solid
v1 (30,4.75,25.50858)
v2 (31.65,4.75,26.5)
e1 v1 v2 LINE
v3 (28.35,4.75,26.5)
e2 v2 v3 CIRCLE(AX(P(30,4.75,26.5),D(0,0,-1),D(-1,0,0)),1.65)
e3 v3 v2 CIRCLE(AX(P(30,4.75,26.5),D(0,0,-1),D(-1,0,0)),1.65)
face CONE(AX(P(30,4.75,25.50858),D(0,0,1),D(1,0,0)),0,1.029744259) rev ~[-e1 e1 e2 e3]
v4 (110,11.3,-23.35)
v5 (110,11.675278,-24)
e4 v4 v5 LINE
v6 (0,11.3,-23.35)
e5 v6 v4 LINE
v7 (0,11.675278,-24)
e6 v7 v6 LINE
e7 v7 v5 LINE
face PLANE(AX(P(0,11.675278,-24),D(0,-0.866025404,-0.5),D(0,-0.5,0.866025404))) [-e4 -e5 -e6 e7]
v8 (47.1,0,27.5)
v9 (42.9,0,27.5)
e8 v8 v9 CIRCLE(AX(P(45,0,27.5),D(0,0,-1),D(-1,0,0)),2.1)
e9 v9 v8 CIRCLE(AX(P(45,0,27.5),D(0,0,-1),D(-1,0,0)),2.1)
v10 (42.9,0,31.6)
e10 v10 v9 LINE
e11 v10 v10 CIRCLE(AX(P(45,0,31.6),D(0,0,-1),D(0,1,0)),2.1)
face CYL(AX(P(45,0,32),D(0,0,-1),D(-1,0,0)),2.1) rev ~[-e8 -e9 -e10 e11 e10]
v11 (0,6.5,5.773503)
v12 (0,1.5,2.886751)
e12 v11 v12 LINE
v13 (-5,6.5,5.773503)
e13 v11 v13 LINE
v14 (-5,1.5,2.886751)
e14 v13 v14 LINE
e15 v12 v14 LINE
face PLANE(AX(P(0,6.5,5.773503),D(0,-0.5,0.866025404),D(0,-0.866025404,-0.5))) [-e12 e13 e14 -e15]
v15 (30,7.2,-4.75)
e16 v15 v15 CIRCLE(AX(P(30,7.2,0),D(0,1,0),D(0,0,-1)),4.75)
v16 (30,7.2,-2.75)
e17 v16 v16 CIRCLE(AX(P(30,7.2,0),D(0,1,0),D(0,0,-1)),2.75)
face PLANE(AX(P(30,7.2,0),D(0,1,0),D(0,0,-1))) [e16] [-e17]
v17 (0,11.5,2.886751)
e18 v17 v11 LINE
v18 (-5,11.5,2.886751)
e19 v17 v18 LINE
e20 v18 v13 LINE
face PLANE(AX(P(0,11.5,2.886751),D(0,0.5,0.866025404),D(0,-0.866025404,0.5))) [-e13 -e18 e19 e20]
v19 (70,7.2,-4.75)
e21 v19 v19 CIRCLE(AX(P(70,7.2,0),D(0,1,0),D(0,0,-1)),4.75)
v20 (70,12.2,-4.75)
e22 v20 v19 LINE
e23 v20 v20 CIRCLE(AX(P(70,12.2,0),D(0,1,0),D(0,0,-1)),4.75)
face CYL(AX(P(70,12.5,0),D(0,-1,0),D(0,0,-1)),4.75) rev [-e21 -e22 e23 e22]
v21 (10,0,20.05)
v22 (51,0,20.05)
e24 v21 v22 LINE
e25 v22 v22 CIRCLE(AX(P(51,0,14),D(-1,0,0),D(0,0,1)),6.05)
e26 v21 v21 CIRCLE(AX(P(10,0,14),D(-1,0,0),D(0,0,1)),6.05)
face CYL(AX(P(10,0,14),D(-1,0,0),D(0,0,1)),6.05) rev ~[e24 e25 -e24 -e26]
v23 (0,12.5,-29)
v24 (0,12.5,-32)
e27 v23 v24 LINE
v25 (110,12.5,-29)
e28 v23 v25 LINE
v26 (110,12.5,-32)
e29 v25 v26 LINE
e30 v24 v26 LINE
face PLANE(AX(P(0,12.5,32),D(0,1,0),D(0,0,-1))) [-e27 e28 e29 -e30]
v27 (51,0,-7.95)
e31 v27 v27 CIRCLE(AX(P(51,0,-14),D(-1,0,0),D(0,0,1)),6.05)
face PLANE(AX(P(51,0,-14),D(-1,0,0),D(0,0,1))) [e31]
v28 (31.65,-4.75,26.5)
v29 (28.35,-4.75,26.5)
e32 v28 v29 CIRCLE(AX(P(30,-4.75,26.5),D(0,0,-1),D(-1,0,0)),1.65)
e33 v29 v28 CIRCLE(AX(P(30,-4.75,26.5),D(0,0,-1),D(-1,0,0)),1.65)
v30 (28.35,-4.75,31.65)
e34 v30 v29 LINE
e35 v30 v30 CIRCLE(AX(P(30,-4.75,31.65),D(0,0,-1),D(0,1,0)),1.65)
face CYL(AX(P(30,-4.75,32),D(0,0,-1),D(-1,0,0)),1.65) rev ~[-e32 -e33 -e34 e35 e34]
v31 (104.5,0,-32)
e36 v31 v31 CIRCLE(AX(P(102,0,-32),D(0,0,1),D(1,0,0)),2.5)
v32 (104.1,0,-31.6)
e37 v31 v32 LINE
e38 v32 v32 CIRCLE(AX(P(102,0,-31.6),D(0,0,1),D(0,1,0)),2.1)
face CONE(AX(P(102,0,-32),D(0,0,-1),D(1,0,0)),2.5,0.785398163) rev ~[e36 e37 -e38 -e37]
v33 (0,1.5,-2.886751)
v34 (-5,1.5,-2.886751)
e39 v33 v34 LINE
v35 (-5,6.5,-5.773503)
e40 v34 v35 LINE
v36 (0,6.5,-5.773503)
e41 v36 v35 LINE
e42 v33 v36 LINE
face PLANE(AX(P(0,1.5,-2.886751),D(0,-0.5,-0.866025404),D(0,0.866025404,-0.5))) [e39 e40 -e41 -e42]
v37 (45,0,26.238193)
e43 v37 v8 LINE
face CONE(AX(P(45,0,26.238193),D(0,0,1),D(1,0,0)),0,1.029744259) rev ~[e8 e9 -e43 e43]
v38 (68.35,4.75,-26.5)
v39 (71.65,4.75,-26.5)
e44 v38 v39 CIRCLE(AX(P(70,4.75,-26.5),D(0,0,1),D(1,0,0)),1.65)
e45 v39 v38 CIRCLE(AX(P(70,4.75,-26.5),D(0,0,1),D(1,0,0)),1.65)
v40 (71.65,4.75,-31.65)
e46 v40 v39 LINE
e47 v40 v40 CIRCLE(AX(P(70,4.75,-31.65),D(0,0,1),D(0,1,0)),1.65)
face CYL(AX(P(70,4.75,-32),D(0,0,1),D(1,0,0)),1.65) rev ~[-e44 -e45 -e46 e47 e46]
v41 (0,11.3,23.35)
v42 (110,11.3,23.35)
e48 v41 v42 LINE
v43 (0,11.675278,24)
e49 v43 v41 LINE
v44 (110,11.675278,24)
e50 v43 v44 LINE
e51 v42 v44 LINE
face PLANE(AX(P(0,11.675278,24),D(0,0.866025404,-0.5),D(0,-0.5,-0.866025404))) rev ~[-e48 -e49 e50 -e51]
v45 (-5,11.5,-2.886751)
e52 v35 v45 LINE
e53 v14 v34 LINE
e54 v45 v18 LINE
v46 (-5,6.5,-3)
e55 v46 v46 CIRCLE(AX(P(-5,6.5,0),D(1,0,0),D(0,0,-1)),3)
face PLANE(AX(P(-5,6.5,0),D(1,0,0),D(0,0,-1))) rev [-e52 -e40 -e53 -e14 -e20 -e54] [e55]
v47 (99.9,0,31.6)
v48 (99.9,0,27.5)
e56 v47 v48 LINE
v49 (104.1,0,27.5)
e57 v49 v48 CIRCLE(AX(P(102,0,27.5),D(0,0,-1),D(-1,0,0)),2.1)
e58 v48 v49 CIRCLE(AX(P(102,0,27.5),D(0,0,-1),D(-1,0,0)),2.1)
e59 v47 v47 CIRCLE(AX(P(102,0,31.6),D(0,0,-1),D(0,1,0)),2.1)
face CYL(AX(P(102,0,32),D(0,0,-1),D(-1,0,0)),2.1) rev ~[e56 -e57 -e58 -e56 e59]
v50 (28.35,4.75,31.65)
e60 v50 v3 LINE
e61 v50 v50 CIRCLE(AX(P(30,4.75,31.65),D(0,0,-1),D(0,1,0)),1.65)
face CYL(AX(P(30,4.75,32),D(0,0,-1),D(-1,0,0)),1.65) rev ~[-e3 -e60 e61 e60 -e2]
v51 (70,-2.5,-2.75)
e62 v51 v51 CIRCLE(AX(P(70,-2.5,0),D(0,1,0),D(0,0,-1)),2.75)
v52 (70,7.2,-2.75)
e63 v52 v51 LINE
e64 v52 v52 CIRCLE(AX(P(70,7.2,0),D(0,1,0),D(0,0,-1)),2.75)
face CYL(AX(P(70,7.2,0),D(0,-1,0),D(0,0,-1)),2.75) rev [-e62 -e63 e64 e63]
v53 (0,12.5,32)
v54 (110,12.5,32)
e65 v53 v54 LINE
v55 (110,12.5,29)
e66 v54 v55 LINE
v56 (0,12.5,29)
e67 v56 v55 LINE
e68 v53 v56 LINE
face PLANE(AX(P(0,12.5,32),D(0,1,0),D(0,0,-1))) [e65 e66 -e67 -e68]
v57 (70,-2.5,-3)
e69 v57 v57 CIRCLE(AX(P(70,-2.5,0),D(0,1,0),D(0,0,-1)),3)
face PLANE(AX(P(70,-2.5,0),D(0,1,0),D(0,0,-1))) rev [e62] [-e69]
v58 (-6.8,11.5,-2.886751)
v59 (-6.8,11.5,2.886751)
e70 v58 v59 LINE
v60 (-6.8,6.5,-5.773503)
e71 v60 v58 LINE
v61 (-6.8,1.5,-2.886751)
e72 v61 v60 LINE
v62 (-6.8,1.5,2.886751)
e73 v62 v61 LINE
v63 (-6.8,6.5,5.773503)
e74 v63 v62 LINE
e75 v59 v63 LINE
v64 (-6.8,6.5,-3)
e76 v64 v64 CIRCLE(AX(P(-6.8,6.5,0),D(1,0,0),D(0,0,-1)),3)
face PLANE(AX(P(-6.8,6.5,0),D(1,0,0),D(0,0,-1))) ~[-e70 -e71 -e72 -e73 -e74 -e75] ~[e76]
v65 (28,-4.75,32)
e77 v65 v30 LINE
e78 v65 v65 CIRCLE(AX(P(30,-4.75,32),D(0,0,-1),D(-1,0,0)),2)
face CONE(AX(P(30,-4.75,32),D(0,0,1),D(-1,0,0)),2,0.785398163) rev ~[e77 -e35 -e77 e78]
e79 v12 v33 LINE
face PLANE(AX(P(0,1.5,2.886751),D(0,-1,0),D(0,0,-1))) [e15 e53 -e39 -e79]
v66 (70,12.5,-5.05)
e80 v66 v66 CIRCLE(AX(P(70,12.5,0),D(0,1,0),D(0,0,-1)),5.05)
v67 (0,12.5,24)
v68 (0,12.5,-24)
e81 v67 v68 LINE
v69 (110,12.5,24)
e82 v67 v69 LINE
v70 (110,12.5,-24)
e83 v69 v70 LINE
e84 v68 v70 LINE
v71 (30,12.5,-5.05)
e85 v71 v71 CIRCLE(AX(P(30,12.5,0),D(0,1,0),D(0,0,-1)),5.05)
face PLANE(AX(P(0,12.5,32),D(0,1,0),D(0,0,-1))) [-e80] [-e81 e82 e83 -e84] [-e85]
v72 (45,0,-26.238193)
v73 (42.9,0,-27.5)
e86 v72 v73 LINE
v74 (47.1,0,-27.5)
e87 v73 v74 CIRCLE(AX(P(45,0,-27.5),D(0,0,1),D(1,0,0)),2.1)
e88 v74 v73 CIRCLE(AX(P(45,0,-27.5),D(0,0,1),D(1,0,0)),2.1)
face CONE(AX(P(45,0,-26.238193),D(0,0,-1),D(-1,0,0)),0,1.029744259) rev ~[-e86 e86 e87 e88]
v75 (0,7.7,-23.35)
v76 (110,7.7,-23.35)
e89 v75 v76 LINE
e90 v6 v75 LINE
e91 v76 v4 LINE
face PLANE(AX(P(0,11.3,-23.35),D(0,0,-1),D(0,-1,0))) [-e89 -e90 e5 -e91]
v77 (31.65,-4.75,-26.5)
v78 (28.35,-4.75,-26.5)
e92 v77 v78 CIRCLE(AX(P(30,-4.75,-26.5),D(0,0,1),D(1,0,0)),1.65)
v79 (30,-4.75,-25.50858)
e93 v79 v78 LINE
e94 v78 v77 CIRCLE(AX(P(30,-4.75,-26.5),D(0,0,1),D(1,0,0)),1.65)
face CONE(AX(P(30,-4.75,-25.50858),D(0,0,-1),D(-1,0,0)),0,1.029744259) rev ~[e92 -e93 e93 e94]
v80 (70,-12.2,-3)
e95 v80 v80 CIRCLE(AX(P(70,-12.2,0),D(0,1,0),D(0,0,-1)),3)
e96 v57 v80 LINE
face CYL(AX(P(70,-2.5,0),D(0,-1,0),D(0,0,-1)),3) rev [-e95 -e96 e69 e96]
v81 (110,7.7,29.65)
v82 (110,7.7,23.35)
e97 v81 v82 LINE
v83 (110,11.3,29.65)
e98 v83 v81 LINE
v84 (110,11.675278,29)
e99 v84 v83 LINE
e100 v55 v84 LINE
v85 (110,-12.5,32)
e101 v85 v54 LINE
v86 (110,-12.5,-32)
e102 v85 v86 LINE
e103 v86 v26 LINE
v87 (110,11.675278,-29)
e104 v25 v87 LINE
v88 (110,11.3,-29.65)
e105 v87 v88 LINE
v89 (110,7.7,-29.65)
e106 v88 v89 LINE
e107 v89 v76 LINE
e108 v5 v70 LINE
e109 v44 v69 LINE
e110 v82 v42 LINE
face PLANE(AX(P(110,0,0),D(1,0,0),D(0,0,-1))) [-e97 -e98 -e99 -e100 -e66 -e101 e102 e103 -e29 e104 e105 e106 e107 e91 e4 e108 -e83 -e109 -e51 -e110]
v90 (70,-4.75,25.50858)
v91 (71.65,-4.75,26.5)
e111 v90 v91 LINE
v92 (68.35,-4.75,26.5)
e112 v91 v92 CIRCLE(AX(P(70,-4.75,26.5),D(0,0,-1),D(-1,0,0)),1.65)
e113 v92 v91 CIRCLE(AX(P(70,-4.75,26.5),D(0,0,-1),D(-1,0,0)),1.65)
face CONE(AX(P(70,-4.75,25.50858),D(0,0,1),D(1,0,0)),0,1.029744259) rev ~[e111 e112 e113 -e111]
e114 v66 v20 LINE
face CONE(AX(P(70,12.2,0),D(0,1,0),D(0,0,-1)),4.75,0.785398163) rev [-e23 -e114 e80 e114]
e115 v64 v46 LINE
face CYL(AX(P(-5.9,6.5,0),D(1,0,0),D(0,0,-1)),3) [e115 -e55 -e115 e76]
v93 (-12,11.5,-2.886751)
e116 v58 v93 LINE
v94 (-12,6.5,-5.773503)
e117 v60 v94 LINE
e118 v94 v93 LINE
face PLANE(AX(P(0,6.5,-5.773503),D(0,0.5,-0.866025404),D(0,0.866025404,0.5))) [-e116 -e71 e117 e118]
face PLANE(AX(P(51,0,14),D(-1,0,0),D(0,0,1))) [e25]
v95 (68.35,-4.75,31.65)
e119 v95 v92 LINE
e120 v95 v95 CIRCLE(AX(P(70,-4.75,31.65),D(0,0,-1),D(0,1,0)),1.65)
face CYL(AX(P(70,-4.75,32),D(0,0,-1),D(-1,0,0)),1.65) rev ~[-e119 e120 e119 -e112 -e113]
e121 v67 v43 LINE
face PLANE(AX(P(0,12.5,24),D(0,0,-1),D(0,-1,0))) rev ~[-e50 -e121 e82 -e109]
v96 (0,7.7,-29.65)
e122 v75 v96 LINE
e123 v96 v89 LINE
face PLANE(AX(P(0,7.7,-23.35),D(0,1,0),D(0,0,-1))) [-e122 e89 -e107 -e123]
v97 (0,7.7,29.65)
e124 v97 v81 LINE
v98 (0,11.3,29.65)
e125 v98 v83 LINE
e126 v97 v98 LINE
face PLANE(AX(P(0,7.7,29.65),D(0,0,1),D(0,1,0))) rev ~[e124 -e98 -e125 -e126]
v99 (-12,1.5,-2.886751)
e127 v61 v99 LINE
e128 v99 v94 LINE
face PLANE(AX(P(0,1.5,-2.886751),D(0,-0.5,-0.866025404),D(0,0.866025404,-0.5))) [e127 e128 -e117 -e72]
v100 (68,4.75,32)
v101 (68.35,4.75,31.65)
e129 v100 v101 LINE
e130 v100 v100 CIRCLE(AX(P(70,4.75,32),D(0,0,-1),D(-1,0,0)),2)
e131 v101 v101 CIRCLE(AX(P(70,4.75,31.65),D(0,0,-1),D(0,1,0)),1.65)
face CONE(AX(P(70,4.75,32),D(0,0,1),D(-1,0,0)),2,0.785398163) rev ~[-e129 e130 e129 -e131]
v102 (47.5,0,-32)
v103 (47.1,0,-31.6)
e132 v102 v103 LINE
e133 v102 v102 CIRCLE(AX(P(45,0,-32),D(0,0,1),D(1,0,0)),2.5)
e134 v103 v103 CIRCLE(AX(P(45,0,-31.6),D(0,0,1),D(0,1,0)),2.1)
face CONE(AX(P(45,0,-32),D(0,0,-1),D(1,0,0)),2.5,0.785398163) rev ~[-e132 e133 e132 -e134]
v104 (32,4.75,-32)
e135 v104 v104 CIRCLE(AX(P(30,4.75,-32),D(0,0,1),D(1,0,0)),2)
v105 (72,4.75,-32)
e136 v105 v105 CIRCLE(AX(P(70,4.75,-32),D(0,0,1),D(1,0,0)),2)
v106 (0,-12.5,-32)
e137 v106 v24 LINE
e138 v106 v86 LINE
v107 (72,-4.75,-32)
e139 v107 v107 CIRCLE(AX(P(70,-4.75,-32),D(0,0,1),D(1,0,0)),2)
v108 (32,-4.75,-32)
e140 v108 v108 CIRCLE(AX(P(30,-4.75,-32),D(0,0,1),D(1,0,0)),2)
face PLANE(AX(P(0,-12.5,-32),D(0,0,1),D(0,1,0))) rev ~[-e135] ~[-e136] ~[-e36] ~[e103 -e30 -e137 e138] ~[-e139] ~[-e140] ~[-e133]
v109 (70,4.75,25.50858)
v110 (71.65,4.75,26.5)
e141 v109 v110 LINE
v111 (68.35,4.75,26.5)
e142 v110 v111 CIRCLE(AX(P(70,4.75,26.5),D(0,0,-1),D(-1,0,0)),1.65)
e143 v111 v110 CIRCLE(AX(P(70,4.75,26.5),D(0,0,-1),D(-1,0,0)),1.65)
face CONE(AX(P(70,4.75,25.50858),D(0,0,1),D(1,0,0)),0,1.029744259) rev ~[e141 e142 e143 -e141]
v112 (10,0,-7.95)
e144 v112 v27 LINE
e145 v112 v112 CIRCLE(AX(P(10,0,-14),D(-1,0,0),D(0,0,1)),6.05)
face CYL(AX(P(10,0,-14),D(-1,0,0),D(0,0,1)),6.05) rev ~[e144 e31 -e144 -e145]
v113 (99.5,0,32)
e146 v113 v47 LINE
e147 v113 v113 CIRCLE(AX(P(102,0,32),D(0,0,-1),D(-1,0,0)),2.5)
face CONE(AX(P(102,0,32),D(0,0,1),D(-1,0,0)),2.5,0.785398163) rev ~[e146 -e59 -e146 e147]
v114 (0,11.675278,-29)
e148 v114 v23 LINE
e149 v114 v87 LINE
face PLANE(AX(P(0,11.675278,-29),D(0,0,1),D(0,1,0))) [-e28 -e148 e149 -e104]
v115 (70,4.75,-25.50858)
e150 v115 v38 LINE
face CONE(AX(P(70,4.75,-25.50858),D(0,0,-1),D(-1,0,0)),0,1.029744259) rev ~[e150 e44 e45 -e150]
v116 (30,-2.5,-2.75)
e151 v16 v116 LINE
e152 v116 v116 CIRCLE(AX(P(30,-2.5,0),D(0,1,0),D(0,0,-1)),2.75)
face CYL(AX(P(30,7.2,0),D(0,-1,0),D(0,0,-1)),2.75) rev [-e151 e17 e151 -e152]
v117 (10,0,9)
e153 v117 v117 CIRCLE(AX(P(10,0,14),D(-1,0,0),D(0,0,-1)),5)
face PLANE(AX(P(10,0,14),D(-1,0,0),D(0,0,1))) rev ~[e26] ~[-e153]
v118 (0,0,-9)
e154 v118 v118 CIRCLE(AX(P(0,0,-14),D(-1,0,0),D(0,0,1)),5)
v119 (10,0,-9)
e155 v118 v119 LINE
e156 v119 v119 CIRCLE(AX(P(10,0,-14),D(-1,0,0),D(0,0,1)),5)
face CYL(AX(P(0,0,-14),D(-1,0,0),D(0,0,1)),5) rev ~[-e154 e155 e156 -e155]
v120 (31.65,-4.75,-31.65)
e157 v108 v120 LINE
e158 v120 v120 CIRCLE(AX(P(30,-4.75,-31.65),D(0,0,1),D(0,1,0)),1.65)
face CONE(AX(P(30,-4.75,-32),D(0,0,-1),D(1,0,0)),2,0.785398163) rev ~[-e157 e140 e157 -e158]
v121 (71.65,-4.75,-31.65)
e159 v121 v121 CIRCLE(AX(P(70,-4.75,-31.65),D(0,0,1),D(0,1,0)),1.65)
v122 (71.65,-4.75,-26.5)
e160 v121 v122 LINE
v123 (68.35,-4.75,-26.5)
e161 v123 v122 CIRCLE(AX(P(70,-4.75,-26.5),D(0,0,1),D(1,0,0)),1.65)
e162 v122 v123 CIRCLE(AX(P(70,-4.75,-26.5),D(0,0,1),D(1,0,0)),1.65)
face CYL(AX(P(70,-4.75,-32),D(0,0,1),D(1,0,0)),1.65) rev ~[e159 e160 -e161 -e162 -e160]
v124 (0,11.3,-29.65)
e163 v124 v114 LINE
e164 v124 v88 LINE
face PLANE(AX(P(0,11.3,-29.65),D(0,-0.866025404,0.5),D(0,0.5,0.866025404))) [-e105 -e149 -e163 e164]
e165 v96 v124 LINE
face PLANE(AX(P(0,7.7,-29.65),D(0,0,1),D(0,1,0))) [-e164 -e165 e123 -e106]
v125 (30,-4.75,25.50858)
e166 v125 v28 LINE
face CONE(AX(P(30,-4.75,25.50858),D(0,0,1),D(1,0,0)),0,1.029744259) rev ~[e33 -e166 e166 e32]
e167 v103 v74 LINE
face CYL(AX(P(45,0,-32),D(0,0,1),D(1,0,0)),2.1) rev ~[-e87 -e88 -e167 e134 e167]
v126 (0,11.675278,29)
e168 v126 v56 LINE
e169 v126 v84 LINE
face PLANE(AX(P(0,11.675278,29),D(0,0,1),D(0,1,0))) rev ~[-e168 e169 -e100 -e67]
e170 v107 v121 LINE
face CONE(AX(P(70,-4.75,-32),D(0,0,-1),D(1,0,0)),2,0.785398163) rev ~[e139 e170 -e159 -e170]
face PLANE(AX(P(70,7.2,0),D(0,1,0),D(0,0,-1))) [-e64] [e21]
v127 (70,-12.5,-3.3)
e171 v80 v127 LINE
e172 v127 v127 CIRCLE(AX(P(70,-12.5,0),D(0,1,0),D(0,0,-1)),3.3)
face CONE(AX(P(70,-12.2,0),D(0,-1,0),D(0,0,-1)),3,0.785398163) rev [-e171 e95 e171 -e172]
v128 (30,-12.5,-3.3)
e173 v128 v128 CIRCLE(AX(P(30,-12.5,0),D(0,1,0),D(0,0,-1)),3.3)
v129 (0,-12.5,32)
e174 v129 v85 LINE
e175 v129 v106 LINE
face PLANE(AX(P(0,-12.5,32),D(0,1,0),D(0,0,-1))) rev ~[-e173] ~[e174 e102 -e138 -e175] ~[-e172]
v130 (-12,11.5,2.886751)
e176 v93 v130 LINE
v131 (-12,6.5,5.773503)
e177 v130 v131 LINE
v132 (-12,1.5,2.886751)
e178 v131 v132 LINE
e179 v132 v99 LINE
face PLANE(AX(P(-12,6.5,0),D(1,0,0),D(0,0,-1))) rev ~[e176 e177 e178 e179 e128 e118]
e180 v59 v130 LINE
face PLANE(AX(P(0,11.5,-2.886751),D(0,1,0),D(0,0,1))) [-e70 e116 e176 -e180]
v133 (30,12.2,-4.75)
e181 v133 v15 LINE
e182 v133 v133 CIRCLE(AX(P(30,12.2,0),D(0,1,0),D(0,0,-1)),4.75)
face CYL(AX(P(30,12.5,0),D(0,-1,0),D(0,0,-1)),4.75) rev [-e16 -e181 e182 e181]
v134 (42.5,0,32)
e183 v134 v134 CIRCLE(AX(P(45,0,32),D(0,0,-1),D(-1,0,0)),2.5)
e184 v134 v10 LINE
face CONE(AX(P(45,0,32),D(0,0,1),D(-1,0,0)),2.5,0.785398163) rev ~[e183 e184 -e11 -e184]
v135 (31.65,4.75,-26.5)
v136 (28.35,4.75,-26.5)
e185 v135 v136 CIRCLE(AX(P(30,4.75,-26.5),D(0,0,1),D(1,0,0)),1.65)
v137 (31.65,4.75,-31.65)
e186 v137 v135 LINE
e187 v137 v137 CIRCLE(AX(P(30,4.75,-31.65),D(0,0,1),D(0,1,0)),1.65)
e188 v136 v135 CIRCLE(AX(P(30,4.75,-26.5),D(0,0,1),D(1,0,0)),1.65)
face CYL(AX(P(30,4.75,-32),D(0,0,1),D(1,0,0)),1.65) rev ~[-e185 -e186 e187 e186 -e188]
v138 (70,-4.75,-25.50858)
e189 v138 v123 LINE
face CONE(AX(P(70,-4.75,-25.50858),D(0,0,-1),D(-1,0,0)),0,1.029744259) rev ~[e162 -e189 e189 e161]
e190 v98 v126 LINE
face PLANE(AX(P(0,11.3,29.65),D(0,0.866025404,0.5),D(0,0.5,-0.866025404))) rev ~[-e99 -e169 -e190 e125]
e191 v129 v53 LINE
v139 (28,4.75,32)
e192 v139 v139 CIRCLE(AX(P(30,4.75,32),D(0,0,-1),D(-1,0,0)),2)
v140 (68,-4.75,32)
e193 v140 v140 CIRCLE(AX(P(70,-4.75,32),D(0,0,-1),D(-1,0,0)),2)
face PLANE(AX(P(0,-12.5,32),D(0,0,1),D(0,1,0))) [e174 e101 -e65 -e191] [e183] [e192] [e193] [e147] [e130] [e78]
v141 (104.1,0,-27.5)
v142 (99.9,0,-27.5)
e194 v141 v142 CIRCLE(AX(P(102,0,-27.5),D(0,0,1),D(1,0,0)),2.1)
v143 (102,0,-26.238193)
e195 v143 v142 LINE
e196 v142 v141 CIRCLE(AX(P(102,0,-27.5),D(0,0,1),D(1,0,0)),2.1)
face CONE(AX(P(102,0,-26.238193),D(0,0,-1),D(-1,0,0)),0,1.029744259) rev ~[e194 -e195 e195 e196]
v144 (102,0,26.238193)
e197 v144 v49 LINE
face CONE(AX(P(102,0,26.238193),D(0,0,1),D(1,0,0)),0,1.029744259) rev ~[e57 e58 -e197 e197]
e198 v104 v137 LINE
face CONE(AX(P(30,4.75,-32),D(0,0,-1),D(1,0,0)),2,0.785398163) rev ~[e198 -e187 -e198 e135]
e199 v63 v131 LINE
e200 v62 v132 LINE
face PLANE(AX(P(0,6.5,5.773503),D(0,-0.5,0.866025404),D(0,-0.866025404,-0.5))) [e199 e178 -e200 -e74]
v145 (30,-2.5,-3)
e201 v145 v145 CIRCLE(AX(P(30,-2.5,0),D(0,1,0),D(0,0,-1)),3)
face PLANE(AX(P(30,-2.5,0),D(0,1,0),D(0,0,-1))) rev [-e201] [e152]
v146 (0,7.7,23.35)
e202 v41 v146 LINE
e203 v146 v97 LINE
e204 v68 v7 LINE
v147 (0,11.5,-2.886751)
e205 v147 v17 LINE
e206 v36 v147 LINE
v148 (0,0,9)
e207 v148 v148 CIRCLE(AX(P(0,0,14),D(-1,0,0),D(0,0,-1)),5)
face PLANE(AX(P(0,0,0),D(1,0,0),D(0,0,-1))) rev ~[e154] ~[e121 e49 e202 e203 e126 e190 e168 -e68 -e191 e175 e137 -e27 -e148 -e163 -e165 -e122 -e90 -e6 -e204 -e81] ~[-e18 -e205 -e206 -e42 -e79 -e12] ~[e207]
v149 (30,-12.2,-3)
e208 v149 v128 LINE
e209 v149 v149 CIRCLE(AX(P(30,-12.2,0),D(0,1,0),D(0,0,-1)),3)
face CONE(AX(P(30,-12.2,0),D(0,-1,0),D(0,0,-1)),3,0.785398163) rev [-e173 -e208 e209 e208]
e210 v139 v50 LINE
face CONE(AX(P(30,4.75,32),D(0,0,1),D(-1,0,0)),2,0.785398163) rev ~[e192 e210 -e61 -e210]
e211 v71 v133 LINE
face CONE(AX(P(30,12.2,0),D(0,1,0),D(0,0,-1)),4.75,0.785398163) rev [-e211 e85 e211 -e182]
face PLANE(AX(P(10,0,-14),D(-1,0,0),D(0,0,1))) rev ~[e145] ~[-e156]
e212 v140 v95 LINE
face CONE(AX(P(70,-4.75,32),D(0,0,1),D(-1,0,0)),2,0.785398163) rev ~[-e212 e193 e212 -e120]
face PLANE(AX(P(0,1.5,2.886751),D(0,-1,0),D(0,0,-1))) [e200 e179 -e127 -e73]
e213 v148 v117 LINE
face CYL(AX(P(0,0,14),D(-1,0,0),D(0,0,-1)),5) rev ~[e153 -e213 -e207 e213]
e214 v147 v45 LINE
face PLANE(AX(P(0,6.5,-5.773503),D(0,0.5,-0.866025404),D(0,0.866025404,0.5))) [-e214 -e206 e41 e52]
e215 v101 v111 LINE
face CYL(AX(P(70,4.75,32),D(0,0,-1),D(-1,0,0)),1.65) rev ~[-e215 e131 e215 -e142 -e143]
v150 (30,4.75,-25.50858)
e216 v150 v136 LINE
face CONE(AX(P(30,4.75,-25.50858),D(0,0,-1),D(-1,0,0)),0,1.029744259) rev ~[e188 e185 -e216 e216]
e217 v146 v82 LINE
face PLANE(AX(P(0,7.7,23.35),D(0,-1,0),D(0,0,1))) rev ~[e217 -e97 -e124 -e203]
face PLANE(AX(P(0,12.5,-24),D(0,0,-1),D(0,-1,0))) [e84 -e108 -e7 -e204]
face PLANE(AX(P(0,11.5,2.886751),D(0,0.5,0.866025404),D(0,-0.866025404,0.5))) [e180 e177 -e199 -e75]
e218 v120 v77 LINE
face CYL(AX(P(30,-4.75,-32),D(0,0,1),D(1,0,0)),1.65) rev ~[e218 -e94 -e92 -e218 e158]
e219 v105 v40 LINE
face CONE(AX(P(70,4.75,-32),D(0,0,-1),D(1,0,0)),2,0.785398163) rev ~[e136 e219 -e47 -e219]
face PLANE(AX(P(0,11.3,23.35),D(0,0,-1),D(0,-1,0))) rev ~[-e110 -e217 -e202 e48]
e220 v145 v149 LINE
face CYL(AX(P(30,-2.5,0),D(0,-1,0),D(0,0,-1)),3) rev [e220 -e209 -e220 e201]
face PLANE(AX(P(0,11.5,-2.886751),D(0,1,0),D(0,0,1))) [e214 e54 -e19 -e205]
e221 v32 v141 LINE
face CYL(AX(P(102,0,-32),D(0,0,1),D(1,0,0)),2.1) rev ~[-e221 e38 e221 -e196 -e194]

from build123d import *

# Parameters (mm, degrees)
BODY_SKETCH_W                                = 64
BODY_SKETCH_H                                = 25
BODY_DEPTH                                   = 110
BODY_ROD_HOLES_SKETCH_R                      = 5
BODY_ROD_HOLES_DEPTH                         = 10
BODY_PISTON_HOLES_SKETCH_R                   = 6.05
BODY_PISTON_HOLES_DEPTH                      = 41
TOP_SWITCH_GROOVES_DEPTH                     = 116.239967025
SHCS_MGT_HOLE_CHAM_SIZE                      = 0.3
SHCS_MGT_HOLE_PAT_COUNT                      = 2
SHCS_MGT_HOLE_PAT_PITCH                      = 40
SHCS_MGT_HOLE_CHAM_OF_SHCS_MGT_HOLE_PAT_SIZE = 0.3
SHCS_MGT_HOLE_BOT_TAP_AT_2_COUNT             = 2
SHCS_MGT_HOLE_BOT_TAP_AT_2_PITCH             = 40
ADJUSTER_NUT_DEPTH                           = 12
ADJUSTER_NUT_THREADS_SKETCH_W                = 1.8
ADJUSTER_NUT_THREADS_SKETCH_H                = 25
TAP_DRILL_FOR_M5X0_8_TAP1_D                  = 4.2
TAP_DRILL_FOR_M5X0_8_TAP1_DEPTH              = 4.5
TAP_DRILL_FOR_M5X0_8_TAP1_CSINK_D            = 5
TAP_DRILL_FOR_M5X0_8_TAP1_CSINK_ANGLE        = 90
TAP_DRILL_FOR_M5X0_8_TAP1_TIP                = 1.2618073
TAP_DRILL_FOR_M5X0_8_TAP2_D                  = 4.2
TAP_DRILL_FOR_M5X0_8_TAP2_DEPTH              = 4.5
TAP_DRILL_FOR_M5X0_8_TAP2_CSINK_D            = 5
TAP_DRILL_FOR_M5X0_8_TAP2_CSINK_ANGLE        = 90
TAP_DRILL_FOR_M5X0_8_TAP2_TIP                = 1.2618073
MOUNT_HOLES_1_D                              = 3.3
MOUNT_HOLES_1_DEPTH                          = 5.5
MOUNT_HOLES_1_CSINK_D                        = 4
MOUNT_HOLES_1_CSINK_ANGLE                    = 90
MOUNT_HOLES_1_TIP                            = 0.991420021
MOUNT_HOLES_2_D                              = 3.3
MOUNT_HOLES_2_DEPTH                          = 5.5
MOUNT_HOLES_2_CSINK_D                        = 4
MOUNT_HOLES_2_CSINK_ANGLE                    = 90
MOUNT_HOLES_2_TIP                            = 0.991420021
MOUNT_HOLES_3_D                              = 3.3
MOUNT_HOLES_3_DEPTH                          = 5.5
MOUNT_HOLES_3_CSINK_D                        = 4
MOUNT_HOLES_3_CSINK_ANGLE                    = 90
MOUNT_HOLES_3_TIP                            = 0.991420021
MOUNT_HOLES_4_D                              = 3.3
MOUNT_HOLES_4_DEPTH                          = 5.5
MOUNT_HOLES_4_CSINK_D                        = 4
MOUNT_HOLES_4_CSINK_ANGLE                    = 90
MOUNT_HOLES_4_TIP                            = 0.991420021


with BuildPart() as part:
    # Body_Sketch → Body (new body)
    with BuildSketch(Plane(origin=(0, 0, 0), x_dir=(0, 0, -1), z_dir=(1, 0, 0))):
        Rectangle(BODY_SKETCH_W, BODY_SKETCH_H)
    extrude(amount=BODY_DEPTH)

    # Body Rod Holes_Sketch → Body Rod Holes (cut)
    with BuildSketch(Plane.ZY):
        with Locations((-14, 0)):
            Circle(BODY_ROD_HOLES_SKETCH_R)
        with Locations(Location((14, 0, 0), (0, 0, 180))):
            Circle(BODY_ROD_HOLES_SKETCH_R)
    extrude(amount=-BODY_ROD_HOLES_DEPTH, mode=Mode.SUBTRACT)

    # Body Piston Holes_Sketch → Body Piston Holes (cut)
    with BuildSketch(Plane.ZY.offset(-10)):
        with Locations((14, 0)):
            Circle(BODY_PISTON_HOLES_SKETCH_R)
        with Locations((-14, 0)):
            Circle(BODY_PISTON_HOLES_SKETCH_R)
    extrude(amount=-BODY_PISTON_HOLES_DEPTH, mode=Mode.SUBTRACT)

    # Top Switch Grooves_Sketch → Top Switch Grooves (cut, through all)
    with BuildSketch(Plane.ZY):
        Polygon((23.35, 7.7), (29.65, 7.7), (29.65, 11.3), (29, 11.675277675), (29, 12.5), (24, 12.5), (24, 11.675277675), (23.35, 11.3), align=None)
        Polygon((-23.35, 11.3), (-23.35, 7.7), (-29.65, 7.7), (-29.65, 11.3), (-29, 11.675277675), (-29, 12.5), (-24, 12.5), (-24, 11.675277675), align=None)
    extrude(amount=-TOP_SWITCH_GROOVES_DEPTH, mode=Mode.SUBTRACT)

    # SHCS MGT Hole_Sketch → SHCS MGT Hole (revolve, cut)
    with BuildSketch(Plane.XY, mode=Mode.PRIVATE) as shcs_mgt_hole_sk:
        Polygon((30, 12.5), (25.25, 12.5), (25.25, 7.2), (27.25, 7.2), (27.25, -12.5), (30, -12.5), align=None)
    shcs_mgt_hole = revolve(shcs_mgt_hole_sk.sketch.rotate(Axis((30, -11.506886035, 0), (0, 1, 0)), 270), axis=Axis((30, -11.506886035, 0), (0, 1, 0)), mode=Mode.SUBTRACT)

    # SHCS MGT Hole Cham
    shcs_mgt_hole_cham_edges = [part.edges().sort_by_distance(p)[0] for p in [
        (30, 12.5, 4.75),
    ]]
    chamfer(shcs_mgt_hole_cham_edges, length=SHCS_MGT_HOLE_CHAM_SIZE)

    # SHCS MGT Hole Pat: SHCS MGT Hole ×2
    with Locations(*[(i * SHCS_MGT_HOLE_PAT_PITCH, 0, 0) for i in range(1, SHCS_MGT_HOLE_PAT_COUNT)]):
        add(shcs_mgt_hole, mode=Mode.SUBTRACT)

    # SHCS MGT Hole Cham of SHCS MGT Hole Pat
    shcs_mgt_hole_cham_of_shcs_mgt_hole_pat_edges = [part.edges().sort_by_distance(p)[0] for p in [
        (70, 12.5, 4.75),
    ]]
    chamfer(shcs_mgt_hole_cham_of_shcs_mgt_hole_pat_edges, length=SHCS_MGT_HOLE_CHAM_OF_SHCS_MGT_HOLE_PAT_SIZE)

    # SHCS MGT Hole Bot Tap Profile → SHCS MGT Hole Bot Tap (revolve, cut)
    with BuildSketch(Plane(origin=(30, -12.5, 0), x_dir=(0, 0, -1), z_dir=(1, 0, 0))):
        Polygon((0, 0), (0, 12.652366702), (2.75, 11), (2.75, 10), (3, 10), (3, 0.3), (3.3, 0), align=None)
    shcs_mgt_hole_bot_tap = revolve(axis=Axis((30, -18.85, 0), (0, 1, 0)), mode=Mode.SUBTRACT)

    # SHCS MGT Hole Bot Tap at 2: SHCS MGT Hole Bot Tap ×2
    with Locations(*[(i * SHCS_MGT_HOLE_BOT_TAP_AT_2_PITCH, 0, 0) for i in range(1, SHCS_MGT_HOLE_BOT_TAP_AT_2_COUNT)]):
        add(shcs_mgt_hole_bot_tap, mode=Mode.SUBTRACT)

    # Adjuster Nut_Sketch → Adjuster Nut (add)
    with BuildSketch(Plane.ZY):
        Polygon((-2.886751346, 11.5), (2.886751346, 11.5), (5.773502692, 6.5), (2.886751346, 1.5), (-2.886751346, 1.5), (-5.773502692, 6.5), align=None)
    extrude(amount=ADJUSTER_NUT_DEPTH)

    # Adjuster Nut Threads_Sketch → Adjuster Nut Threads (revolve, cut)
    with BuildSketch(Plane.XY, mode=Mode.PRIVATE) as adjuster_nut_threads_sk:
        with Locations((-5.9, 22)):
            Rectangle(ADJUSTER_NUT_THREADS_SKETCH_W, ADJUSTER_NUT_THREADS_SKETCH_H)
    revolve(adjuster_nut_threads_sk.sketch.rotate(Axis((-6.476, 6.5, 0), (1, 0, 0)), 270), axis=Axis((-6.476, 6.5, 0), (1, 0, 0)), mode=Mode.SUBTRACT)

    # Tap Drill for M5x0.8 Tap1
    with Locations(Plane.XY.offset(32)):
        with Locations((45, 0), (102, 0)):
            CounterSinkHole(TAP_DRILL_FOR_M5X0_8_TAP1_D / 2, TAP_DRILL_FOR_M5X0_8_TAP1_CSINK_D / 2, depth=TAP_DRILL_FOR_M5X0_8_TAP1_DEPTH, counter_sink_angle=TAP_DRILL_FOR_M5X0_8_TAP1_CSINK_ANGLE)
            with Locations((0, 0, -(TAP_DRILL_FOR_M5X0_8_TAP1_DEPTH + TAP_DRILL_FOR_M5X0_8_TAP1_TIP / 2))):  # 118° drill point
                Cone(0, TAP_DRILL_FOR_M5X0_8_TAP1_D / 2, TAP_DRILL_FOR_M5X0_8_TAP1_TIP, mode=Mode.SUBTRACT)

    # Tap Drill for M5x0.8 Tap2
    with Locations(Plane(origin=(0, 0, -32), x_dir=(-1, 0, 0), z_dir=(0, 0, -1))):
        with Locations((-102, 0), (-45, 0)):
            CounterSinkHole(TAP_DRILL_FOR_M5X0_8_TAP2_D / 2, TAP_DRILL_FOR_M5X0_8_TAP2_CSINK_D / 2, depth=TAP_DRILL_FOR_M5X0_8_TAP2_DEPTH, counter_sink_angle=TAP_DRILL_FOR_M5X0_8_TAP2_CSINK_ANGLE)
            with Locations((0, 0, -(TAP_DRILL_FOR_M5X0_8_TAP2_DEPTH + TAP_DRILL_FOR_M5X0_8_TAP2_TIP / 2))):  # 118° drill point
                Cone(0, TAP_DRILL_FOR_M5X0_8_TAP2_D / 2, TAP_DRILL_FOR_M5X0_8_TAP2_TIP, mode=Mode.SUBTRACT)

    # Mount_Holes_1
    with Locations(Plane.XY.offset(32)):
        with Locations((30, -4.75), (70, -4.75)):
            CounterSinkHole(MOUNT_HOLES_1_D / 2, MOUNT_HOLES_1_CSINK_D / 2, depth=MOUNT_HOLES_1_DEPTH, counter_sink_angle=MOUNT_HOLES_1_CSINK_ANGLE)
            with Locations((0, 0, -(MOUNT_HOLES_1_DEPTH + MOUNT_HOLES_1_TIP / 2))):  # 118° drill point
                Cone(0, MOUNT_HOLES_1_D / 2, MOUNT_HOLES_1_TIP, mode=Mode.SUBTRACT)

    # Mount_Holes_2
    with Locations(Plane(origin=(0, 0, -32), x_dir=(-1, 0, 0), z_dir=(0, 0, -1))):
        with Locations((-70, -4.75), (-30, -4.75)):
            CounterSinkHole(MOUNT_HOLES_2_D / 2, MOUNT_HOLES_2_CSINK_D / 2, depth=MOUNT_HOLES_2_DEPTH, counter_sink_angle=MOUNT_HOLES_2_CSINK_ANGLE)
            with Locations((0, 0, -(MOUNT_HOLES_2_DEPTH + MOUNT_HOLES_2_TIP / 2))):  # 118° drill point
                Cone(0, MOUNT_HOLES_2_D / 2, MOUNT_HOLES_2_TIP, mode=Mode.SUBTRACT)

    # Mount_Holes_3
    with Locations(Plane.XY.offset(32)):
        with Locations((30, 4.75), (70, 4.75)):
            CounterSinkHole(MOUNT_HOLES_3_D / 2, MOUNT_HOLES_3_CSINK_D / 2, depth=MOUNT_HOLES_3_DEPTH, counter_sink_angle=MOUNT_HOLES_3_CSINK_ANGLE)
            with Locations((0, 0, -(MOUNT_HOLES_3_DEPTH + MOUNT_HOLES_3_TIP / 2))):  # 118° drill point
                Cone(0, MOUNT_HOLES_3_D / 2, MOUNT_HOLES_3_TIP, mode=Mode.SUBTRACT)

    # Mount_Holes_4
    with Locations(Plane(origin=(0, 0, -32), x_dir=(-1, 0, 0), z_dir=(0, 0, -1))):
        with Locations((-70, 4.75), (-30, 4.75)):
            CounterSinkHole(MOUNT_HOLES_4_D / 2, MOUNT_HOLES_4_CSINK_D / 2, depth=MOUNT_HOLES_4_DEPTH, counter_sink_angle=MOUNT_HOLES_4_CSINK_ANGLE)
            with Locations((0, 0, -(MOUNT_HOLES_4_DEPTH + MOUNT_HOLES_4_TIP / 2))):  # 118° drill point
                Cone(0, MOUNT_HOLES_4_D / 2, MOUNT_HOLES_4_TIP, mode=Mode.SUBTRACT)


solid = part.part
